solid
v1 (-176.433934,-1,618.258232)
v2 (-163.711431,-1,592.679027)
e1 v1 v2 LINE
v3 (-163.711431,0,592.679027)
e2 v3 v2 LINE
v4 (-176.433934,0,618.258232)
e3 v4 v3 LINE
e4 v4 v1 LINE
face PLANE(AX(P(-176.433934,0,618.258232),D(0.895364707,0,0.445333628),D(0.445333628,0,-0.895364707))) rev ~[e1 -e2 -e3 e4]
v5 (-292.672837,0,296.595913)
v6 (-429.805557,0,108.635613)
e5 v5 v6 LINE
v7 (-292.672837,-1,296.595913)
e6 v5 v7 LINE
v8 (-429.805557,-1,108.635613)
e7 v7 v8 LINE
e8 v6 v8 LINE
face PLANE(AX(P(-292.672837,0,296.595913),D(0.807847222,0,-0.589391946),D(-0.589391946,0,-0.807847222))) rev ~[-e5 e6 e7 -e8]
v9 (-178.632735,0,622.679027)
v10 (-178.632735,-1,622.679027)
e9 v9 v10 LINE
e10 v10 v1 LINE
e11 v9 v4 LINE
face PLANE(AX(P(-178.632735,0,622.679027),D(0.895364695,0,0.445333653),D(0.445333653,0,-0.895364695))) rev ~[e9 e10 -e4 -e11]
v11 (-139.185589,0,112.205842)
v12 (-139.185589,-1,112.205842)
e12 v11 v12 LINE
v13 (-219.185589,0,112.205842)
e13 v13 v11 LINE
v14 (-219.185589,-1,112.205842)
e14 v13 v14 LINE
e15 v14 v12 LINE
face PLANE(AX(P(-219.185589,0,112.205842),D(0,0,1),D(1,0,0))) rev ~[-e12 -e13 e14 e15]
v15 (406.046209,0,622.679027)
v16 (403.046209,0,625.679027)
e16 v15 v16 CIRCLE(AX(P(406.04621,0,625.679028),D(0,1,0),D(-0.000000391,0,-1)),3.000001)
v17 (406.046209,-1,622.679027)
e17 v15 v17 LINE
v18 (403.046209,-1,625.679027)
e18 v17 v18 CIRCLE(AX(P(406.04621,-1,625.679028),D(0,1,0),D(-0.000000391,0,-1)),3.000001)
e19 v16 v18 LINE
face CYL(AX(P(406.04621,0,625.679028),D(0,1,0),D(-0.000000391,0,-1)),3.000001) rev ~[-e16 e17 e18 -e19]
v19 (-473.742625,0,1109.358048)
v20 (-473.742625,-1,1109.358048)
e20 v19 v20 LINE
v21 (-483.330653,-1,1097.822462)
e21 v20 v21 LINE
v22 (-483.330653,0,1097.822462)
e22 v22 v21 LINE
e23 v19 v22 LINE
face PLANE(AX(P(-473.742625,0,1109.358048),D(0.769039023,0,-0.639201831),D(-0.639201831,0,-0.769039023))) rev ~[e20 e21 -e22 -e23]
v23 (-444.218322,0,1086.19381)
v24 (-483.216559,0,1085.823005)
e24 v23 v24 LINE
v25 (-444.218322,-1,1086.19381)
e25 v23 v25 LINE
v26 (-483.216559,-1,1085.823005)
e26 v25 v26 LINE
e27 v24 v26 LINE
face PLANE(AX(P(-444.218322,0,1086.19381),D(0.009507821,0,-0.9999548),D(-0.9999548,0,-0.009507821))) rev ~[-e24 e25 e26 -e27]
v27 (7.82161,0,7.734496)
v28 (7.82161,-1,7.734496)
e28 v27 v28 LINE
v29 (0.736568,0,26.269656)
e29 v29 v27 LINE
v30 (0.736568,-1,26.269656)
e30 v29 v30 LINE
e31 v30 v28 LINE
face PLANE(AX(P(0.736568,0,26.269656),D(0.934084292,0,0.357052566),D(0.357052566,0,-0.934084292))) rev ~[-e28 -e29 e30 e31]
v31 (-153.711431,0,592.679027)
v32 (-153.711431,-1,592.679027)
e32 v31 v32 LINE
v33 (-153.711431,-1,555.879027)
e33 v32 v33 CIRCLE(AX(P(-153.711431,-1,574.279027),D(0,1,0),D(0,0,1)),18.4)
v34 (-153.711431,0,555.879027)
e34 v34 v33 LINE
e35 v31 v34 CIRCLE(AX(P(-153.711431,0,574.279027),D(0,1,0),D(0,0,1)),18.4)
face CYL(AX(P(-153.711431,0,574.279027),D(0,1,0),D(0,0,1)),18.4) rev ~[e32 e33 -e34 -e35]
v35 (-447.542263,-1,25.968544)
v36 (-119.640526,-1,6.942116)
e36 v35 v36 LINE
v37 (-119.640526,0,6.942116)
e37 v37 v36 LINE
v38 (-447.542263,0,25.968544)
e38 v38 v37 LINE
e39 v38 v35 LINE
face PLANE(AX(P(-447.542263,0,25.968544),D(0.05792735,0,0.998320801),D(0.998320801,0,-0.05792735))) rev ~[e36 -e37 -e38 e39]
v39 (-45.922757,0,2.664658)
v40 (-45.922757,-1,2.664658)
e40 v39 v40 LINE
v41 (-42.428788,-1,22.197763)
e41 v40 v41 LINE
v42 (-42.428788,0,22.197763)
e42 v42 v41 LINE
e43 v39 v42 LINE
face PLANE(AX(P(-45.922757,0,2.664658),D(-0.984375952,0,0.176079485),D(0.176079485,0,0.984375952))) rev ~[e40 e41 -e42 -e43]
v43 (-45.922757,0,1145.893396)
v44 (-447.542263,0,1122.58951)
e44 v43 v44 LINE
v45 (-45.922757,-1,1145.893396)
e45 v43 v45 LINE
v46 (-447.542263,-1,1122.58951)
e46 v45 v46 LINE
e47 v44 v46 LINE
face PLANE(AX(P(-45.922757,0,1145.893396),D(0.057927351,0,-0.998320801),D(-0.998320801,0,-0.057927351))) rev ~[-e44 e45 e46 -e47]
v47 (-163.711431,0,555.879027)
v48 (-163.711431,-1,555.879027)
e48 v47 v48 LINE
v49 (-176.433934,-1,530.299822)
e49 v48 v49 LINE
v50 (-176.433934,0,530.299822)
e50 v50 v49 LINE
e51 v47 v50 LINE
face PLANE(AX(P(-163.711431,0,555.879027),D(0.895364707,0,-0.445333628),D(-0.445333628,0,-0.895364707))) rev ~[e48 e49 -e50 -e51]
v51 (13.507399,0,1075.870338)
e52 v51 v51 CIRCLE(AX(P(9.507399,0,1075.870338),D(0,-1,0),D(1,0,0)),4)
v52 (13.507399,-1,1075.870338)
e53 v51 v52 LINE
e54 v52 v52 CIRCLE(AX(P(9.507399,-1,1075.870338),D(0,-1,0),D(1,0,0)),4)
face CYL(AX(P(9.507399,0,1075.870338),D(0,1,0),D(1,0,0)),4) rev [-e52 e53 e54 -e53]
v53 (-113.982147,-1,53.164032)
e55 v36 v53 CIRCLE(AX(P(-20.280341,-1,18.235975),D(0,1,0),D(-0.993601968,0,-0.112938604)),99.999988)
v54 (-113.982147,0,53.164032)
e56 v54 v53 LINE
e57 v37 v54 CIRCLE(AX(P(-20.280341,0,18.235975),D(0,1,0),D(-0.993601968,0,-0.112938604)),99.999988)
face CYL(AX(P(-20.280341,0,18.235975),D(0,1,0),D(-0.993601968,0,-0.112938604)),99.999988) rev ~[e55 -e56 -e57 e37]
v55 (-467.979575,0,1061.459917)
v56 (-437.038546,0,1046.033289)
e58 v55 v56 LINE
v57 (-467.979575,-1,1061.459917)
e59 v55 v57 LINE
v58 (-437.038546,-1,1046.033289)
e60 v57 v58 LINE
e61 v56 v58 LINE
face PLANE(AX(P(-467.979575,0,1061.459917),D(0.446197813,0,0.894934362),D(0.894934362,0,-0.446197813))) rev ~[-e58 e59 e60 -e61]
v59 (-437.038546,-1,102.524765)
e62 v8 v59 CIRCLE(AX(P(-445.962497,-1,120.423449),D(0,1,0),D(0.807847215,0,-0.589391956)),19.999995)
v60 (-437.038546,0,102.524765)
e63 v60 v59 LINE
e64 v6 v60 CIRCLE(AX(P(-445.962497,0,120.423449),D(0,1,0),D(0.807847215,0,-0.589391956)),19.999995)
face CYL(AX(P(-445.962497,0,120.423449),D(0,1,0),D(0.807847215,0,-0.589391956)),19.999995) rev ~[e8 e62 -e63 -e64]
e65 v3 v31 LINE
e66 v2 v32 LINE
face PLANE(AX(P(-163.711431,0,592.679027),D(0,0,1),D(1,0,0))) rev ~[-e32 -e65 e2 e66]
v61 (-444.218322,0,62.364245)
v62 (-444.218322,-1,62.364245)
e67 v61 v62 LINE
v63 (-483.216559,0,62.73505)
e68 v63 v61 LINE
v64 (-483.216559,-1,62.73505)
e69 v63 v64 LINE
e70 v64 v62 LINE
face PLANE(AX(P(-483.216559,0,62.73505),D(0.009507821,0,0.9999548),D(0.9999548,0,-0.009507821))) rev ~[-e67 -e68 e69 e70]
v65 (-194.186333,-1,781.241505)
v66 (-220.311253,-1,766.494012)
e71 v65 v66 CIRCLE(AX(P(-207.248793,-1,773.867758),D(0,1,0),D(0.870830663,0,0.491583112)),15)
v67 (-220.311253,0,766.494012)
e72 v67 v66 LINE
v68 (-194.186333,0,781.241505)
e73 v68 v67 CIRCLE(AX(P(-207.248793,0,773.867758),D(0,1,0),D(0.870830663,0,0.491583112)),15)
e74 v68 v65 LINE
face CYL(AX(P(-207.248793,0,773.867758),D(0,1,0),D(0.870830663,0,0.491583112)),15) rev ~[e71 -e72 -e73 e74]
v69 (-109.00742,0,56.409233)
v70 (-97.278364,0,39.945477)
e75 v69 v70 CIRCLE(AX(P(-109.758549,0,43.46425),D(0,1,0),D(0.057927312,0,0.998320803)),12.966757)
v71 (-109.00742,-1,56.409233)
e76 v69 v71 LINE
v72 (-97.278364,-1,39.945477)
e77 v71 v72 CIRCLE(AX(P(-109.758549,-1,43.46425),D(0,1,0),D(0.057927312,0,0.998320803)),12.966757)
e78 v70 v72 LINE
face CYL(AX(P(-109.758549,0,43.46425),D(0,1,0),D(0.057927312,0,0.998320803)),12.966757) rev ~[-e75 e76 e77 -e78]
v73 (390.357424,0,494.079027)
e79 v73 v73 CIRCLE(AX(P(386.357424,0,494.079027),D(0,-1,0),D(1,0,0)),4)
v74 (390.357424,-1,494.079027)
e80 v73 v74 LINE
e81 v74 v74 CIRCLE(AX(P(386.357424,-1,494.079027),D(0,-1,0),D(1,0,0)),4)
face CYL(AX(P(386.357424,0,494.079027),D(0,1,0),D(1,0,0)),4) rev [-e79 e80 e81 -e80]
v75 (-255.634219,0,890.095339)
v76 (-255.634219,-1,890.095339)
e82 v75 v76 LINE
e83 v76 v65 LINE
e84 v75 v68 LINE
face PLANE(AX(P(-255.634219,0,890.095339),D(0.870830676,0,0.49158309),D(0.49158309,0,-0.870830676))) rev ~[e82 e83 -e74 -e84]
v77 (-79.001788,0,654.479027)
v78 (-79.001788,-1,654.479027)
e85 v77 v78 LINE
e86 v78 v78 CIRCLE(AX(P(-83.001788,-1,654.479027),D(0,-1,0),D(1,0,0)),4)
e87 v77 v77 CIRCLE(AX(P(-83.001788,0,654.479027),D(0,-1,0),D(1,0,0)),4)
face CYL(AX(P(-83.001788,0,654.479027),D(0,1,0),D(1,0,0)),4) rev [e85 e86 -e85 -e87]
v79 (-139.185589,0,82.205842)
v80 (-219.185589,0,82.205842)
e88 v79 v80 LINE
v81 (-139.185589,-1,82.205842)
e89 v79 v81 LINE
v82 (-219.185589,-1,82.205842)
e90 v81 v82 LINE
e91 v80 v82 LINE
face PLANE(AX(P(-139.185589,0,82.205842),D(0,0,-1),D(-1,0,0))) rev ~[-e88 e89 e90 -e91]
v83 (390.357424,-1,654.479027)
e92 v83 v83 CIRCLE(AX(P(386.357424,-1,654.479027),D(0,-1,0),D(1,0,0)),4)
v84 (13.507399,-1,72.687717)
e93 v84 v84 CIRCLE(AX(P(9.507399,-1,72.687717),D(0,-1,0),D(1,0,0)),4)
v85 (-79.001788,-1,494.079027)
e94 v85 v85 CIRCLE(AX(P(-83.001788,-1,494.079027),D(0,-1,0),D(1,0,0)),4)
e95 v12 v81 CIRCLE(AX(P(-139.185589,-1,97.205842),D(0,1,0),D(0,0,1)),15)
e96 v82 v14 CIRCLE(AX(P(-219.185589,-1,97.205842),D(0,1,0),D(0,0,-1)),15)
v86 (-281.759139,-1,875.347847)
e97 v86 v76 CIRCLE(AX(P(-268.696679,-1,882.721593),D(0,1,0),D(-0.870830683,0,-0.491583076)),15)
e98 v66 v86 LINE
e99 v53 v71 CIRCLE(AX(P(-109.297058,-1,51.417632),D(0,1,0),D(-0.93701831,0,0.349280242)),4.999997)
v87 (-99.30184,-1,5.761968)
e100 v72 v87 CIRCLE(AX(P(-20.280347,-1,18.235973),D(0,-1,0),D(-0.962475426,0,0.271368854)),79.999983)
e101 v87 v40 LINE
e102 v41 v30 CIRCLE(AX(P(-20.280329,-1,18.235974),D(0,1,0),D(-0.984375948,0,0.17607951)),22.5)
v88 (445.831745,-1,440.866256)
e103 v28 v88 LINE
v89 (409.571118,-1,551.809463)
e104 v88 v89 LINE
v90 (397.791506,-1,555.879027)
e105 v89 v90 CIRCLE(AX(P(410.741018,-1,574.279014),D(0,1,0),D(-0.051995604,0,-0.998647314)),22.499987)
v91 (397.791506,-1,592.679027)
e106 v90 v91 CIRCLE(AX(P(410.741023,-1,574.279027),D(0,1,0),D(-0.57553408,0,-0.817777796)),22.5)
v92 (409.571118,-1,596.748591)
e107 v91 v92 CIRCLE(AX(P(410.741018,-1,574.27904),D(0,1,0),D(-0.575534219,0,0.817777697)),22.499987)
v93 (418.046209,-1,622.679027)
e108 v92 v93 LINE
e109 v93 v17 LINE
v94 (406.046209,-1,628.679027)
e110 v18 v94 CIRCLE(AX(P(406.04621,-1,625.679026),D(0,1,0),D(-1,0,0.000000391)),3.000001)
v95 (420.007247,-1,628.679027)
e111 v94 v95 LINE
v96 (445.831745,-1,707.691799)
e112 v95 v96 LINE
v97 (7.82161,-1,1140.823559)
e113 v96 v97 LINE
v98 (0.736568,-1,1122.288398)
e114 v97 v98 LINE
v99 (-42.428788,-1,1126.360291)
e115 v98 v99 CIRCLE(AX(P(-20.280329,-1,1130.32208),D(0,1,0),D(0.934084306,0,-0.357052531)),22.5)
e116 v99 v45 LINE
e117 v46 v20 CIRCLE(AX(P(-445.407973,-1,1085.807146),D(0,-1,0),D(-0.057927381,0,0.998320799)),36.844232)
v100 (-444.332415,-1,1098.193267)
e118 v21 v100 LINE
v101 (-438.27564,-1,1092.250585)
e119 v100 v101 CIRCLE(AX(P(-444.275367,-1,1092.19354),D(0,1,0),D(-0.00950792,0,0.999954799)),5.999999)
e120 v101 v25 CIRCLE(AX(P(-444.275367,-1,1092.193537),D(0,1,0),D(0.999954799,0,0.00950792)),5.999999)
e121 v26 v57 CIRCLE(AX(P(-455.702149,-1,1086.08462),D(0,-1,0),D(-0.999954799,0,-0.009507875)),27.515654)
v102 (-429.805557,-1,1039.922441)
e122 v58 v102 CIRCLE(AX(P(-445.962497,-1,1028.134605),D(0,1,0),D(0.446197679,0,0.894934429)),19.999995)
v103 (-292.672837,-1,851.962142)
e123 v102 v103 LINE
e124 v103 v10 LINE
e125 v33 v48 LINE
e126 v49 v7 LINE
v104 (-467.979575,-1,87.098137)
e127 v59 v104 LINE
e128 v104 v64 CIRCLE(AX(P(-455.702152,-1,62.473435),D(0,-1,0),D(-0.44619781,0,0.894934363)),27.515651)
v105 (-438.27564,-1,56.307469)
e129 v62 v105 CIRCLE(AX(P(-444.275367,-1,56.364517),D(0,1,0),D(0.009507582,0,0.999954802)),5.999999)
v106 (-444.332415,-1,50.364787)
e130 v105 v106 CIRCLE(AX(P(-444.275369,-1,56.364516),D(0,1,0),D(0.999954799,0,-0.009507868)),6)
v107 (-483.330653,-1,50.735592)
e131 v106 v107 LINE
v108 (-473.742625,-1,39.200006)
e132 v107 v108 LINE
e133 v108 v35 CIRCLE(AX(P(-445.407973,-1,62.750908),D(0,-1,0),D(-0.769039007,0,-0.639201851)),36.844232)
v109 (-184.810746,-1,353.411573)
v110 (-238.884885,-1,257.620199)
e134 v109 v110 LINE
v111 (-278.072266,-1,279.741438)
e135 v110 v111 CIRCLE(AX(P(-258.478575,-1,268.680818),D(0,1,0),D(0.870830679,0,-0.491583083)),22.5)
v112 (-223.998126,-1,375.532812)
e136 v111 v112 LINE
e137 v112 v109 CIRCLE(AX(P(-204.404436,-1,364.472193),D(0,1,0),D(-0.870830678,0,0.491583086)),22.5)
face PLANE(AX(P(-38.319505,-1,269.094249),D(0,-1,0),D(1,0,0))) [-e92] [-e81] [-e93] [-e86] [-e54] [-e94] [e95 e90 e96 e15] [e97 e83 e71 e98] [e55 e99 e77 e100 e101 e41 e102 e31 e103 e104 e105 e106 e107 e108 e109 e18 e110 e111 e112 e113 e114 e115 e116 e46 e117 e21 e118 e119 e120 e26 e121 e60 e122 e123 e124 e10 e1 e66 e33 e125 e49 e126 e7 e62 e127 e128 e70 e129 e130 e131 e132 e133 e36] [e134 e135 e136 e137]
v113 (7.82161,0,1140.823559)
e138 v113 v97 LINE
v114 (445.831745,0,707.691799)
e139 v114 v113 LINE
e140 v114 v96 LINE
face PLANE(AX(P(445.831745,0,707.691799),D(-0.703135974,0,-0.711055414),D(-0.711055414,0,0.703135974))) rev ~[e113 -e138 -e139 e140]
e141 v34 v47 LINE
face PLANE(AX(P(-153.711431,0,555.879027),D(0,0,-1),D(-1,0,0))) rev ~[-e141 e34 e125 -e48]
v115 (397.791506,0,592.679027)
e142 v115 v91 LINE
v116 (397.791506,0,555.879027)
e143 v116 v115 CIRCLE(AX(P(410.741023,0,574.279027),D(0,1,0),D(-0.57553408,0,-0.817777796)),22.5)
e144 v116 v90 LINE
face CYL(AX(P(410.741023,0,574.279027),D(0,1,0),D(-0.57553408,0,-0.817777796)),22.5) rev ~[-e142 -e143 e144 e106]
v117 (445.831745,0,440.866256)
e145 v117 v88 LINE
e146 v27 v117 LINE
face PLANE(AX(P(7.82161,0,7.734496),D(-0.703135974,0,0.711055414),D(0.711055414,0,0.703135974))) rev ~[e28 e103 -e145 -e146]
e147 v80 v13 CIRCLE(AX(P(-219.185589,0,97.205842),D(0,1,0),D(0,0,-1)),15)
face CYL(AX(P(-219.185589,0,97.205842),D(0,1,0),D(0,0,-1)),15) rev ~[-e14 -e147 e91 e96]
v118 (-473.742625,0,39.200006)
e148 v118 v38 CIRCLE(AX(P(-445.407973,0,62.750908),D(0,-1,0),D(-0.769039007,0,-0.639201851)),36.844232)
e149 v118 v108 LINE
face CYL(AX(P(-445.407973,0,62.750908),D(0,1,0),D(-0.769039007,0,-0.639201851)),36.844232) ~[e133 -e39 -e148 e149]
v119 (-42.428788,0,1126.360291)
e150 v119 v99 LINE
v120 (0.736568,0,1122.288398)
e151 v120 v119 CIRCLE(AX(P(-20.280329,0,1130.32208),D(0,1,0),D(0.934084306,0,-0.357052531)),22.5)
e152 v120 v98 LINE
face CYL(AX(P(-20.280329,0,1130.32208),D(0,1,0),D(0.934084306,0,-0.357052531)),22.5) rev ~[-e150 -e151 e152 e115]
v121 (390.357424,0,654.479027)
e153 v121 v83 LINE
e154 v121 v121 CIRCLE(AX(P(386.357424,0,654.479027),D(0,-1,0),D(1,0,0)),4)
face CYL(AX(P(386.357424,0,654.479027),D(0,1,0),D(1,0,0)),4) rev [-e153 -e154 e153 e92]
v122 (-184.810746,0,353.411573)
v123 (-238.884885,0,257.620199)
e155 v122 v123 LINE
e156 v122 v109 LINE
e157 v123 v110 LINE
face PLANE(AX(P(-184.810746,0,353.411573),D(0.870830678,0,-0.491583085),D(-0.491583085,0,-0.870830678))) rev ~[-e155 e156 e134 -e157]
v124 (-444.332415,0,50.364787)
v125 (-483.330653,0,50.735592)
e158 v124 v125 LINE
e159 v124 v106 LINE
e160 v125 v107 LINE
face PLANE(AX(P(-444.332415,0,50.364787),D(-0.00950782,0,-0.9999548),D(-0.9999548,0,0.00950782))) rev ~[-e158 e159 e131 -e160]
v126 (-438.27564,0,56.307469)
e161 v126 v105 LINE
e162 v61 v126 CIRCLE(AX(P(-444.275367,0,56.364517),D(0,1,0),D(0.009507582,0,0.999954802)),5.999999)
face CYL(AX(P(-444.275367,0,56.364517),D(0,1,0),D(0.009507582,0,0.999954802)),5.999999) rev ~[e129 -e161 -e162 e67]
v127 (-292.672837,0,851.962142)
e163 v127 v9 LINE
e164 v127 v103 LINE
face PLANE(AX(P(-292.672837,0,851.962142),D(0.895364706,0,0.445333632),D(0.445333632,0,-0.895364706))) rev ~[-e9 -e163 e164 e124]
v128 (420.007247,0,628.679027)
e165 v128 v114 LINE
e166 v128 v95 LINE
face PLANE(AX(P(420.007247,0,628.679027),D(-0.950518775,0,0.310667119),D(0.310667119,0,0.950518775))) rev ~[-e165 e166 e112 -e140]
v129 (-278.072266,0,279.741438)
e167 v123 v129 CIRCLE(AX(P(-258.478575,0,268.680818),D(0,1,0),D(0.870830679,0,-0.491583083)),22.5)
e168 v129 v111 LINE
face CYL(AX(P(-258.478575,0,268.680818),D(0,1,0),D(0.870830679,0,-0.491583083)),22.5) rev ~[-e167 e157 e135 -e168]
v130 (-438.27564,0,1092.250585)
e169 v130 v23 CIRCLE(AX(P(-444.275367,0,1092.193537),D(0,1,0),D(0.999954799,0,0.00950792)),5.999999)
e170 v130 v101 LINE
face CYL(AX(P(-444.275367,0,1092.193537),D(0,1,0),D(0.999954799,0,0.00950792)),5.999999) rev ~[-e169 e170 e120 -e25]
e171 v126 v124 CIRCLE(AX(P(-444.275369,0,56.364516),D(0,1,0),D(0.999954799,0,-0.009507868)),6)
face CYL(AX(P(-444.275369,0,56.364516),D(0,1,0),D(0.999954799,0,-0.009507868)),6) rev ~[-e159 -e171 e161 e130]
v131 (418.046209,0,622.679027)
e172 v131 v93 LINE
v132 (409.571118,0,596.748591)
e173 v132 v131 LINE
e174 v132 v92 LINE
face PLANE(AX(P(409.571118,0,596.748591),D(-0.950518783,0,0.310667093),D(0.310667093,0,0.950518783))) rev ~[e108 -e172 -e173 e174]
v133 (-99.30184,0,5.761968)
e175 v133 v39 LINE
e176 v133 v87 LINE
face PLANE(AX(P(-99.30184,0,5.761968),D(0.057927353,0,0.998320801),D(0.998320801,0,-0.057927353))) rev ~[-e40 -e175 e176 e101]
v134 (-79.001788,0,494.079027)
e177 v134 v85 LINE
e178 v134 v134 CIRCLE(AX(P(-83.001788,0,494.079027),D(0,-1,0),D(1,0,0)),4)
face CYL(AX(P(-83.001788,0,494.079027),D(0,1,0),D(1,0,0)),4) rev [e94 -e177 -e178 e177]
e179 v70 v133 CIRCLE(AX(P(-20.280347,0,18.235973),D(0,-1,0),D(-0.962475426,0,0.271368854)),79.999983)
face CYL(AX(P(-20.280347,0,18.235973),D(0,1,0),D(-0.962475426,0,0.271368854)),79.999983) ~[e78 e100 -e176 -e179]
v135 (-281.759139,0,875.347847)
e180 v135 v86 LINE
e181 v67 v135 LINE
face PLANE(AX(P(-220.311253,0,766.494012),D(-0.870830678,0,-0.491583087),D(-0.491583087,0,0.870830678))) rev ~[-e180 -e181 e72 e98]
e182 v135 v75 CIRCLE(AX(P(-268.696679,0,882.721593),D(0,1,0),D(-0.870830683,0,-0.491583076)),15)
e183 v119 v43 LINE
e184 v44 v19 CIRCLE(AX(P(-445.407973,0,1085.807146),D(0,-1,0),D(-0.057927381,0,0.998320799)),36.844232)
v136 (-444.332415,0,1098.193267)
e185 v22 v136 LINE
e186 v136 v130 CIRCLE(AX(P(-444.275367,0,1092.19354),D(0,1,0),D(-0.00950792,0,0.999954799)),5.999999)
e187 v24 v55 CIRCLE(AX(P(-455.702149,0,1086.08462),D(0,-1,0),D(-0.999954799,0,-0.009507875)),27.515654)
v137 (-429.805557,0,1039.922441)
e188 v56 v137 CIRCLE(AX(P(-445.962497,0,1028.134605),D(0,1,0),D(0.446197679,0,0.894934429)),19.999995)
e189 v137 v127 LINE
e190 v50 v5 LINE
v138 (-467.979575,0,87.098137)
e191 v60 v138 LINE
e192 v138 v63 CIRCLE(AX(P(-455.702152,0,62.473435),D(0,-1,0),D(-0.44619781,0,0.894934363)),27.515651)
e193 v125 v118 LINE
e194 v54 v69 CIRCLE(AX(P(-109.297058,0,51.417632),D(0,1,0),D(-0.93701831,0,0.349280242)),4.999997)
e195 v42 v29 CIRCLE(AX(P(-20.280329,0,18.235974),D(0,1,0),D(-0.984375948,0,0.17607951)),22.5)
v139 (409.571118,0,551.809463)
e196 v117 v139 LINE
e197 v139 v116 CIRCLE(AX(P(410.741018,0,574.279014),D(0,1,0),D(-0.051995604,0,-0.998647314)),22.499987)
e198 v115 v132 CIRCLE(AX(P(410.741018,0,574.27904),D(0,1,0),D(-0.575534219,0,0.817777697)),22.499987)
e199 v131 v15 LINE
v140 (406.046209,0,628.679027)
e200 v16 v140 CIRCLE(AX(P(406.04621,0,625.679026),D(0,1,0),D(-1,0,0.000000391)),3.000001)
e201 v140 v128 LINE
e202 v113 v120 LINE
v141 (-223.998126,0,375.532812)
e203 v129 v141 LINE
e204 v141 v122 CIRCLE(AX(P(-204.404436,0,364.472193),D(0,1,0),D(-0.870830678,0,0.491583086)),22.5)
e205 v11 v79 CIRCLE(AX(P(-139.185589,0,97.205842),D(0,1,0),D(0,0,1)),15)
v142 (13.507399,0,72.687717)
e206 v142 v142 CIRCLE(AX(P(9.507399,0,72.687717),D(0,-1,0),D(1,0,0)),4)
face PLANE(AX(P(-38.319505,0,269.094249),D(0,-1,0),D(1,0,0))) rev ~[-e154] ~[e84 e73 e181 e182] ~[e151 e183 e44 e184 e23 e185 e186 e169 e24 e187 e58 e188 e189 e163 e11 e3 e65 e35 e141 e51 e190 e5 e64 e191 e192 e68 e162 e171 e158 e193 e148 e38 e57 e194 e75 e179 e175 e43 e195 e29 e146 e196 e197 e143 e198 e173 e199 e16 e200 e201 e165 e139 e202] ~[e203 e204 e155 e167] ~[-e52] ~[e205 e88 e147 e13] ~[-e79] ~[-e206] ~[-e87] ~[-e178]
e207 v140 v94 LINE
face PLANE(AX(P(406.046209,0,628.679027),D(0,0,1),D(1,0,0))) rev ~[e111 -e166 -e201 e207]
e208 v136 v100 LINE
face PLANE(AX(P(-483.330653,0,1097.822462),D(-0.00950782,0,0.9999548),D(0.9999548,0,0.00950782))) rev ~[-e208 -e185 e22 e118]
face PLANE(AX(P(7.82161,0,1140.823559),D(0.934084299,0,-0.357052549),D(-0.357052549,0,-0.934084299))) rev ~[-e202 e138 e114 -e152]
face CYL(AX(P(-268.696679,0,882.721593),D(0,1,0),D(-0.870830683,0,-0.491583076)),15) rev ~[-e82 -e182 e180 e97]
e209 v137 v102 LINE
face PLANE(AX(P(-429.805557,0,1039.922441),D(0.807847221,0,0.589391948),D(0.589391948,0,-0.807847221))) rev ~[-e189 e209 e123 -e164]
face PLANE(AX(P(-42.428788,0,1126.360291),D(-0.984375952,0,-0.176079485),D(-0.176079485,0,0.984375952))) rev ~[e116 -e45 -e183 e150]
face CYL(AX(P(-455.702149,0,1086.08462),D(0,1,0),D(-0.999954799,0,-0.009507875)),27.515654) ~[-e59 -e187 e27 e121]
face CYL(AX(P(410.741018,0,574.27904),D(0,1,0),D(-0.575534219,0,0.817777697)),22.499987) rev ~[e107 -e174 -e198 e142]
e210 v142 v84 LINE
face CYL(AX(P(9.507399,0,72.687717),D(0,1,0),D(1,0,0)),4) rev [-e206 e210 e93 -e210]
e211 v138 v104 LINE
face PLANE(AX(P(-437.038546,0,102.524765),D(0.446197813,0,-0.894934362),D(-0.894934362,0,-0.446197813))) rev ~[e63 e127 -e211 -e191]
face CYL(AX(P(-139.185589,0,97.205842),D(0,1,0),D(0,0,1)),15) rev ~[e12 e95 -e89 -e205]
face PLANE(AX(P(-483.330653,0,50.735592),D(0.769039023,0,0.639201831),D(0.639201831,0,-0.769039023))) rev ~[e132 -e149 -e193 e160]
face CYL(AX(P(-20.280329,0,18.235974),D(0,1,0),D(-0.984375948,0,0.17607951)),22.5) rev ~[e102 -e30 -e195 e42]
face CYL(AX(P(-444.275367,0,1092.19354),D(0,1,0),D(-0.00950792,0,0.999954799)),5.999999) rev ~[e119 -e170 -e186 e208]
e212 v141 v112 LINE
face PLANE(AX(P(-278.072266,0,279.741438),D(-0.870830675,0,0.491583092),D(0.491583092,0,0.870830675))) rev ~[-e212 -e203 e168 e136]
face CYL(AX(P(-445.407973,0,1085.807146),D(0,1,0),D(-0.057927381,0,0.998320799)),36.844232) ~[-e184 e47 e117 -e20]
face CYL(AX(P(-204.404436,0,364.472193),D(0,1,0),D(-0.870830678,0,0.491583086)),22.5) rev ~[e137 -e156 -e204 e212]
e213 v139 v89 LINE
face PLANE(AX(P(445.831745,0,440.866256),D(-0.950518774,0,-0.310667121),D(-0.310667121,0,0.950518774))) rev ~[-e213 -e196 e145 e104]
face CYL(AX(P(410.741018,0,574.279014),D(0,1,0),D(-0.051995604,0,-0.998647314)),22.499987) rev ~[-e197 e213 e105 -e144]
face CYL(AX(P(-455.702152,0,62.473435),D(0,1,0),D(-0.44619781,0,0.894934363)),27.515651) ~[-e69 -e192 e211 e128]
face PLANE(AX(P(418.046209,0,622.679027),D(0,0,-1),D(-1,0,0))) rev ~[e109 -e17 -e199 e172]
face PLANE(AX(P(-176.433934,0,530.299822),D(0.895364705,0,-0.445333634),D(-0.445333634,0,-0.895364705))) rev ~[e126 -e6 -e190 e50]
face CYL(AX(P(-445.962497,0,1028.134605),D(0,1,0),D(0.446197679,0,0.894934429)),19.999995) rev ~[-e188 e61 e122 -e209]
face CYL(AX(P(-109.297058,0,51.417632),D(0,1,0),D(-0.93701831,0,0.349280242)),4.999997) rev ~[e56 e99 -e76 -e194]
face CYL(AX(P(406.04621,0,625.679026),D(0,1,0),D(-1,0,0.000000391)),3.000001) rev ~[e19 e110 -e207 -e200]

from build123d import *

# Parameters (mm, degrees)
F0_R     = 4
F1_DEPTH = 1


with BuildPart() as f1:
    # F0 (on Front) → F1 (new body)
    with BuildSketch(Plane.XZ):
        with BuildLine():
            ThreePointArc((-42.428788, 22.197763), (-22.393428, 40.636528), (0.736568, 26.269656))
            Line((0.736568, 26.269656), (7.82161, 7.734496))
            Line((7.82161, 7.734496), (445.831745, 440.866256))
            Line((445.831745, 440.866256), (409.571118, 551.809463))
            ThreePointArc((409.571118, 551.809463), (403.393924, 553.012383), (397.791506, 555.879027))
            Line((397.791506, 555.879027), (-153.711431, 555.879027))
            Line((-153.711431, 555.879027), (-163.711431, 555.879027))
            Line((-163.711431, 555.879027), (-176.433934, 530.299822))
            Line((-176.433934, 530.299822), (-292.672837, 296.595913))
            Line((-292.672837, 296.595913), (-429.805557, 108.635613))
            ThreePointArc((-429.805557, 108.635613), (-433.055197, 105.145969), (-437.038546, 102.524765))
            Line((-437.038546, 102.524765), (-467.979575, 87.098137))
            ThreePointArc((-467.979575, 87.098137), (-479.031049, 77.063624), (-483.216559, 62.73505))
            Line((-483.216559, 62.73505), (-444.218322, 62.364245))
            ThreePointArc((-444.218322, 62.364245), (-439.992581, 60.566627), (-438.27564, 56.307469))
            ThreePointArc((-438.27564, 56.307469), (-440.073258, 52.081729), (-444.332415, 50.364787))
            Line((-444.332415, 50.364787), (-483.330653, 50.735592))
            Line((-483.330653, 50.735592), (-473.742625, 39.200006))
            ThreePointArc((-473.742625, 39.200006), (-462.016917, 29.862605), (-447.542263, 25.968544))
            Line((-447.542263, 25.968544), (-119.640526, 6.942116))
            ThreePointArc((-119.640526, 6.942116), (-119.539343, 30.38703), (-113.982147, 53.164032))
            ThreePointArc((-113.982147, 53.164032), (-112.028876, 55.605369), (-109.00742, 56.409233))
            Line((-109.00742, 56.409233), (-91.138541, 55.372396))
            ThreePointArc((-91.138541, 55.372396), (-94.609764, 47.818656), (-97.278364, 39.945477))
            ThreePointArc((-97.278364, 39.945477), (-100.140537, 22.963258), (-99.30184, 5.761968))
            Line((-99.30184, 5.761968), (-45.922757, 2.664658))
            Line((-45.922757, 2.664658), (-42.428788, 22.197763))
        make_face()
        with BuildLine():
            ThreePointArc((-219.185589, 82.205842), (-234.185589, 97.205842), (-219.185589, 112.205842))
            Line((-219.185589, 112.205842), (-139.185589, 112.205842))
            ThreePointArc((-139.185589, 112.205842), (-124.185589, 97.205842), (-139.185589, 82.205842))
            Line((-139.185589, 82.205842), (-219.185589, 82.205842))
        make_face(mode=Mode.SUBTRACT)
        with BuildLine():
            ThreePointArc((-238.884885, 257.620199), (-269.539195, 249.087128), (-278.072266, 279.741438))
            Line((-278.072266, 279.741438), (-223.998126, 375.532812))
            ThreePointArc((-223.998126, 375.532812), (-193.343817, 384.065883), (-184.810746, 353.411573))
            Line((-184.810746, 353.411573), (-238.884885, 257.620199))
        make_face(mode=Mode.SUBTRACT)
        with Locations((-83.001788, 494.079027)):
            Circle(F0_R, mode=Mode.SUBTRACT)
        with Locations((9.507399, 72.687717)):
            Circle(F0_R, mode=Mode.SUBTRACT)
        with Locations((386.357424, 494.079027)):
            Circle(F0_R, mode=Mode.SUBTRACT)
        with BuildLine():
            ThreePointArc((-109.00742, 56.409233), (-99.197738, 50.987949), (-97.278364, 39.945477))
            ThreePointArc((-97.278364, 39.945477), (-94.609764, 47.818656), (-91.138541, 55.372396))
            Line((-91.138541, 55.372396), (-109.00742, 56.409233))
        make_face()
        with BuildLine():
            Line((-153.711431, 555.879027), (397.791506, 555.879027))
            ThreePointArc((397.791506, 555.879027), (388.241023, 574.279027), (397.791506, 592.679027))
            Line((397.791506, 592.679027), (-153.711431, 592.679027))
            ThreePointArc((-153.711431, 592.679027), (-135.311431, 574.279027), (-153.711431, 555.879027))
        make_face()
        with BuildLine():
            Line((-153.711431, 592.679027), (397.791506, 592.679027))
            ThreePointArc((397.791506, 592.679027), (403.393924, 595.545671), (409.571118, 596.748591))
            Line((409.571118, 596.748591), (418.046209, 622.679027))
            Line((418.046209, 622.679027), (406.046209, 622.679027))
            ThreePointArc((406.046209, 622.679027), (403.924889, 623.557707), (403.046209, 625.679027))
            ThreePointArc((403.046209, 625.679027), (403.924889, 627.800347), (406.046209, 628.679027))
            Line((406.046209, 628.679027), (420.007247, 628.679027))
            Line((420.007247, 628.679027), (445.831745, 707.691799))
            Line((445.831745, 707.691799), (7.82161, 1140.823559))
            Line((7.82161, 1140.823559), (0.736568, 1122.288398))
            ThreePointArc((0.736568, 1122.288398), (-22.393428, 1107.921526), (-42.428788, 1126.360291))
            Line((-42.428788, 1126.360291), (-45.922757, 1145.893396))
            Line((-45.922757, 1145.893396), (-447.542263, 1122.58951))
            ThreePointArc((-447.542263, 1122.58951), (-462.016917, 1118.695449), (-473.742625, 1109.358048))
            Line((-473.742625, 1109.358048), (-483.330653, 1097.822462))
            Line((-483.330653, 1097.822462), (-444.332415, 1098.193267))
            ThreePointArc((-444.332415, 1098.193267), (-440.073258, 1096.476326), (-438.27564, 1092.250585))
            ThreePointArc((-438.27564, 1092.250585), (-439.992581, 1087.991428), (-444.218322, 1086.19381))
            Line((-444.218322, 1086.19381), (-483.216559, 1085.823005))
            ThreePointArc((-483.216559, 1085.823005), (-479.031049, 1071.494431), (-467.979575, 1061.459917))
            Line((-467.979575, 1061.459917), (-437.038546, 1046.033289))
            ThreePointArc((-437.038546, 1046.033289), (-433.055197, 1043.412085), (-429.805557, 1039.922441))
            Line((-429.805557, 1039.922441), (-292.672837, 851.962142))
            Line((-292.672837, 851.962142), (-178.632735, 622.679027))
            Line((-178.632735, 622.679027), (-176.433934, 618.258232))
            Line((-176.433934, 618.258232), (-163.711431, 592.679027))
            Line((-163.711431, 592.679027), (-153.711431, 592.679027))
        make_face()
        with Locations((-83.001788, 654.479027)):
            Circle(F0_R, mode=Mode.SUBTRACT)
        with BuildLine():
            ThreePointArc((-281.759139, 875.347847), (-276.070425, 895.784053), (-255.634219, 890.095339))
            Line((-255.634219, 890.095339), (-194.186333, 781.241505))
            ThreePointArc((-194.186333, 781.241505), (-199.875047, 760.805298), (-220.311253, 766.494012))
            Line((-220.311253, 766.494012), (-281.759139, 875.347847))
        make_face(mode=Mode.SUBTRACT)
        with Locations((386.357424, 654.479027)):
            Circle(F0_R, mode=Mode.SUBTRACT)
        with Locations((9.507399, 1075.870338)):
            Circle(F0_R, mode=Mode.SUBTRACT)
    extrude(amount=F1_DEPTH)


solid = f1.part
